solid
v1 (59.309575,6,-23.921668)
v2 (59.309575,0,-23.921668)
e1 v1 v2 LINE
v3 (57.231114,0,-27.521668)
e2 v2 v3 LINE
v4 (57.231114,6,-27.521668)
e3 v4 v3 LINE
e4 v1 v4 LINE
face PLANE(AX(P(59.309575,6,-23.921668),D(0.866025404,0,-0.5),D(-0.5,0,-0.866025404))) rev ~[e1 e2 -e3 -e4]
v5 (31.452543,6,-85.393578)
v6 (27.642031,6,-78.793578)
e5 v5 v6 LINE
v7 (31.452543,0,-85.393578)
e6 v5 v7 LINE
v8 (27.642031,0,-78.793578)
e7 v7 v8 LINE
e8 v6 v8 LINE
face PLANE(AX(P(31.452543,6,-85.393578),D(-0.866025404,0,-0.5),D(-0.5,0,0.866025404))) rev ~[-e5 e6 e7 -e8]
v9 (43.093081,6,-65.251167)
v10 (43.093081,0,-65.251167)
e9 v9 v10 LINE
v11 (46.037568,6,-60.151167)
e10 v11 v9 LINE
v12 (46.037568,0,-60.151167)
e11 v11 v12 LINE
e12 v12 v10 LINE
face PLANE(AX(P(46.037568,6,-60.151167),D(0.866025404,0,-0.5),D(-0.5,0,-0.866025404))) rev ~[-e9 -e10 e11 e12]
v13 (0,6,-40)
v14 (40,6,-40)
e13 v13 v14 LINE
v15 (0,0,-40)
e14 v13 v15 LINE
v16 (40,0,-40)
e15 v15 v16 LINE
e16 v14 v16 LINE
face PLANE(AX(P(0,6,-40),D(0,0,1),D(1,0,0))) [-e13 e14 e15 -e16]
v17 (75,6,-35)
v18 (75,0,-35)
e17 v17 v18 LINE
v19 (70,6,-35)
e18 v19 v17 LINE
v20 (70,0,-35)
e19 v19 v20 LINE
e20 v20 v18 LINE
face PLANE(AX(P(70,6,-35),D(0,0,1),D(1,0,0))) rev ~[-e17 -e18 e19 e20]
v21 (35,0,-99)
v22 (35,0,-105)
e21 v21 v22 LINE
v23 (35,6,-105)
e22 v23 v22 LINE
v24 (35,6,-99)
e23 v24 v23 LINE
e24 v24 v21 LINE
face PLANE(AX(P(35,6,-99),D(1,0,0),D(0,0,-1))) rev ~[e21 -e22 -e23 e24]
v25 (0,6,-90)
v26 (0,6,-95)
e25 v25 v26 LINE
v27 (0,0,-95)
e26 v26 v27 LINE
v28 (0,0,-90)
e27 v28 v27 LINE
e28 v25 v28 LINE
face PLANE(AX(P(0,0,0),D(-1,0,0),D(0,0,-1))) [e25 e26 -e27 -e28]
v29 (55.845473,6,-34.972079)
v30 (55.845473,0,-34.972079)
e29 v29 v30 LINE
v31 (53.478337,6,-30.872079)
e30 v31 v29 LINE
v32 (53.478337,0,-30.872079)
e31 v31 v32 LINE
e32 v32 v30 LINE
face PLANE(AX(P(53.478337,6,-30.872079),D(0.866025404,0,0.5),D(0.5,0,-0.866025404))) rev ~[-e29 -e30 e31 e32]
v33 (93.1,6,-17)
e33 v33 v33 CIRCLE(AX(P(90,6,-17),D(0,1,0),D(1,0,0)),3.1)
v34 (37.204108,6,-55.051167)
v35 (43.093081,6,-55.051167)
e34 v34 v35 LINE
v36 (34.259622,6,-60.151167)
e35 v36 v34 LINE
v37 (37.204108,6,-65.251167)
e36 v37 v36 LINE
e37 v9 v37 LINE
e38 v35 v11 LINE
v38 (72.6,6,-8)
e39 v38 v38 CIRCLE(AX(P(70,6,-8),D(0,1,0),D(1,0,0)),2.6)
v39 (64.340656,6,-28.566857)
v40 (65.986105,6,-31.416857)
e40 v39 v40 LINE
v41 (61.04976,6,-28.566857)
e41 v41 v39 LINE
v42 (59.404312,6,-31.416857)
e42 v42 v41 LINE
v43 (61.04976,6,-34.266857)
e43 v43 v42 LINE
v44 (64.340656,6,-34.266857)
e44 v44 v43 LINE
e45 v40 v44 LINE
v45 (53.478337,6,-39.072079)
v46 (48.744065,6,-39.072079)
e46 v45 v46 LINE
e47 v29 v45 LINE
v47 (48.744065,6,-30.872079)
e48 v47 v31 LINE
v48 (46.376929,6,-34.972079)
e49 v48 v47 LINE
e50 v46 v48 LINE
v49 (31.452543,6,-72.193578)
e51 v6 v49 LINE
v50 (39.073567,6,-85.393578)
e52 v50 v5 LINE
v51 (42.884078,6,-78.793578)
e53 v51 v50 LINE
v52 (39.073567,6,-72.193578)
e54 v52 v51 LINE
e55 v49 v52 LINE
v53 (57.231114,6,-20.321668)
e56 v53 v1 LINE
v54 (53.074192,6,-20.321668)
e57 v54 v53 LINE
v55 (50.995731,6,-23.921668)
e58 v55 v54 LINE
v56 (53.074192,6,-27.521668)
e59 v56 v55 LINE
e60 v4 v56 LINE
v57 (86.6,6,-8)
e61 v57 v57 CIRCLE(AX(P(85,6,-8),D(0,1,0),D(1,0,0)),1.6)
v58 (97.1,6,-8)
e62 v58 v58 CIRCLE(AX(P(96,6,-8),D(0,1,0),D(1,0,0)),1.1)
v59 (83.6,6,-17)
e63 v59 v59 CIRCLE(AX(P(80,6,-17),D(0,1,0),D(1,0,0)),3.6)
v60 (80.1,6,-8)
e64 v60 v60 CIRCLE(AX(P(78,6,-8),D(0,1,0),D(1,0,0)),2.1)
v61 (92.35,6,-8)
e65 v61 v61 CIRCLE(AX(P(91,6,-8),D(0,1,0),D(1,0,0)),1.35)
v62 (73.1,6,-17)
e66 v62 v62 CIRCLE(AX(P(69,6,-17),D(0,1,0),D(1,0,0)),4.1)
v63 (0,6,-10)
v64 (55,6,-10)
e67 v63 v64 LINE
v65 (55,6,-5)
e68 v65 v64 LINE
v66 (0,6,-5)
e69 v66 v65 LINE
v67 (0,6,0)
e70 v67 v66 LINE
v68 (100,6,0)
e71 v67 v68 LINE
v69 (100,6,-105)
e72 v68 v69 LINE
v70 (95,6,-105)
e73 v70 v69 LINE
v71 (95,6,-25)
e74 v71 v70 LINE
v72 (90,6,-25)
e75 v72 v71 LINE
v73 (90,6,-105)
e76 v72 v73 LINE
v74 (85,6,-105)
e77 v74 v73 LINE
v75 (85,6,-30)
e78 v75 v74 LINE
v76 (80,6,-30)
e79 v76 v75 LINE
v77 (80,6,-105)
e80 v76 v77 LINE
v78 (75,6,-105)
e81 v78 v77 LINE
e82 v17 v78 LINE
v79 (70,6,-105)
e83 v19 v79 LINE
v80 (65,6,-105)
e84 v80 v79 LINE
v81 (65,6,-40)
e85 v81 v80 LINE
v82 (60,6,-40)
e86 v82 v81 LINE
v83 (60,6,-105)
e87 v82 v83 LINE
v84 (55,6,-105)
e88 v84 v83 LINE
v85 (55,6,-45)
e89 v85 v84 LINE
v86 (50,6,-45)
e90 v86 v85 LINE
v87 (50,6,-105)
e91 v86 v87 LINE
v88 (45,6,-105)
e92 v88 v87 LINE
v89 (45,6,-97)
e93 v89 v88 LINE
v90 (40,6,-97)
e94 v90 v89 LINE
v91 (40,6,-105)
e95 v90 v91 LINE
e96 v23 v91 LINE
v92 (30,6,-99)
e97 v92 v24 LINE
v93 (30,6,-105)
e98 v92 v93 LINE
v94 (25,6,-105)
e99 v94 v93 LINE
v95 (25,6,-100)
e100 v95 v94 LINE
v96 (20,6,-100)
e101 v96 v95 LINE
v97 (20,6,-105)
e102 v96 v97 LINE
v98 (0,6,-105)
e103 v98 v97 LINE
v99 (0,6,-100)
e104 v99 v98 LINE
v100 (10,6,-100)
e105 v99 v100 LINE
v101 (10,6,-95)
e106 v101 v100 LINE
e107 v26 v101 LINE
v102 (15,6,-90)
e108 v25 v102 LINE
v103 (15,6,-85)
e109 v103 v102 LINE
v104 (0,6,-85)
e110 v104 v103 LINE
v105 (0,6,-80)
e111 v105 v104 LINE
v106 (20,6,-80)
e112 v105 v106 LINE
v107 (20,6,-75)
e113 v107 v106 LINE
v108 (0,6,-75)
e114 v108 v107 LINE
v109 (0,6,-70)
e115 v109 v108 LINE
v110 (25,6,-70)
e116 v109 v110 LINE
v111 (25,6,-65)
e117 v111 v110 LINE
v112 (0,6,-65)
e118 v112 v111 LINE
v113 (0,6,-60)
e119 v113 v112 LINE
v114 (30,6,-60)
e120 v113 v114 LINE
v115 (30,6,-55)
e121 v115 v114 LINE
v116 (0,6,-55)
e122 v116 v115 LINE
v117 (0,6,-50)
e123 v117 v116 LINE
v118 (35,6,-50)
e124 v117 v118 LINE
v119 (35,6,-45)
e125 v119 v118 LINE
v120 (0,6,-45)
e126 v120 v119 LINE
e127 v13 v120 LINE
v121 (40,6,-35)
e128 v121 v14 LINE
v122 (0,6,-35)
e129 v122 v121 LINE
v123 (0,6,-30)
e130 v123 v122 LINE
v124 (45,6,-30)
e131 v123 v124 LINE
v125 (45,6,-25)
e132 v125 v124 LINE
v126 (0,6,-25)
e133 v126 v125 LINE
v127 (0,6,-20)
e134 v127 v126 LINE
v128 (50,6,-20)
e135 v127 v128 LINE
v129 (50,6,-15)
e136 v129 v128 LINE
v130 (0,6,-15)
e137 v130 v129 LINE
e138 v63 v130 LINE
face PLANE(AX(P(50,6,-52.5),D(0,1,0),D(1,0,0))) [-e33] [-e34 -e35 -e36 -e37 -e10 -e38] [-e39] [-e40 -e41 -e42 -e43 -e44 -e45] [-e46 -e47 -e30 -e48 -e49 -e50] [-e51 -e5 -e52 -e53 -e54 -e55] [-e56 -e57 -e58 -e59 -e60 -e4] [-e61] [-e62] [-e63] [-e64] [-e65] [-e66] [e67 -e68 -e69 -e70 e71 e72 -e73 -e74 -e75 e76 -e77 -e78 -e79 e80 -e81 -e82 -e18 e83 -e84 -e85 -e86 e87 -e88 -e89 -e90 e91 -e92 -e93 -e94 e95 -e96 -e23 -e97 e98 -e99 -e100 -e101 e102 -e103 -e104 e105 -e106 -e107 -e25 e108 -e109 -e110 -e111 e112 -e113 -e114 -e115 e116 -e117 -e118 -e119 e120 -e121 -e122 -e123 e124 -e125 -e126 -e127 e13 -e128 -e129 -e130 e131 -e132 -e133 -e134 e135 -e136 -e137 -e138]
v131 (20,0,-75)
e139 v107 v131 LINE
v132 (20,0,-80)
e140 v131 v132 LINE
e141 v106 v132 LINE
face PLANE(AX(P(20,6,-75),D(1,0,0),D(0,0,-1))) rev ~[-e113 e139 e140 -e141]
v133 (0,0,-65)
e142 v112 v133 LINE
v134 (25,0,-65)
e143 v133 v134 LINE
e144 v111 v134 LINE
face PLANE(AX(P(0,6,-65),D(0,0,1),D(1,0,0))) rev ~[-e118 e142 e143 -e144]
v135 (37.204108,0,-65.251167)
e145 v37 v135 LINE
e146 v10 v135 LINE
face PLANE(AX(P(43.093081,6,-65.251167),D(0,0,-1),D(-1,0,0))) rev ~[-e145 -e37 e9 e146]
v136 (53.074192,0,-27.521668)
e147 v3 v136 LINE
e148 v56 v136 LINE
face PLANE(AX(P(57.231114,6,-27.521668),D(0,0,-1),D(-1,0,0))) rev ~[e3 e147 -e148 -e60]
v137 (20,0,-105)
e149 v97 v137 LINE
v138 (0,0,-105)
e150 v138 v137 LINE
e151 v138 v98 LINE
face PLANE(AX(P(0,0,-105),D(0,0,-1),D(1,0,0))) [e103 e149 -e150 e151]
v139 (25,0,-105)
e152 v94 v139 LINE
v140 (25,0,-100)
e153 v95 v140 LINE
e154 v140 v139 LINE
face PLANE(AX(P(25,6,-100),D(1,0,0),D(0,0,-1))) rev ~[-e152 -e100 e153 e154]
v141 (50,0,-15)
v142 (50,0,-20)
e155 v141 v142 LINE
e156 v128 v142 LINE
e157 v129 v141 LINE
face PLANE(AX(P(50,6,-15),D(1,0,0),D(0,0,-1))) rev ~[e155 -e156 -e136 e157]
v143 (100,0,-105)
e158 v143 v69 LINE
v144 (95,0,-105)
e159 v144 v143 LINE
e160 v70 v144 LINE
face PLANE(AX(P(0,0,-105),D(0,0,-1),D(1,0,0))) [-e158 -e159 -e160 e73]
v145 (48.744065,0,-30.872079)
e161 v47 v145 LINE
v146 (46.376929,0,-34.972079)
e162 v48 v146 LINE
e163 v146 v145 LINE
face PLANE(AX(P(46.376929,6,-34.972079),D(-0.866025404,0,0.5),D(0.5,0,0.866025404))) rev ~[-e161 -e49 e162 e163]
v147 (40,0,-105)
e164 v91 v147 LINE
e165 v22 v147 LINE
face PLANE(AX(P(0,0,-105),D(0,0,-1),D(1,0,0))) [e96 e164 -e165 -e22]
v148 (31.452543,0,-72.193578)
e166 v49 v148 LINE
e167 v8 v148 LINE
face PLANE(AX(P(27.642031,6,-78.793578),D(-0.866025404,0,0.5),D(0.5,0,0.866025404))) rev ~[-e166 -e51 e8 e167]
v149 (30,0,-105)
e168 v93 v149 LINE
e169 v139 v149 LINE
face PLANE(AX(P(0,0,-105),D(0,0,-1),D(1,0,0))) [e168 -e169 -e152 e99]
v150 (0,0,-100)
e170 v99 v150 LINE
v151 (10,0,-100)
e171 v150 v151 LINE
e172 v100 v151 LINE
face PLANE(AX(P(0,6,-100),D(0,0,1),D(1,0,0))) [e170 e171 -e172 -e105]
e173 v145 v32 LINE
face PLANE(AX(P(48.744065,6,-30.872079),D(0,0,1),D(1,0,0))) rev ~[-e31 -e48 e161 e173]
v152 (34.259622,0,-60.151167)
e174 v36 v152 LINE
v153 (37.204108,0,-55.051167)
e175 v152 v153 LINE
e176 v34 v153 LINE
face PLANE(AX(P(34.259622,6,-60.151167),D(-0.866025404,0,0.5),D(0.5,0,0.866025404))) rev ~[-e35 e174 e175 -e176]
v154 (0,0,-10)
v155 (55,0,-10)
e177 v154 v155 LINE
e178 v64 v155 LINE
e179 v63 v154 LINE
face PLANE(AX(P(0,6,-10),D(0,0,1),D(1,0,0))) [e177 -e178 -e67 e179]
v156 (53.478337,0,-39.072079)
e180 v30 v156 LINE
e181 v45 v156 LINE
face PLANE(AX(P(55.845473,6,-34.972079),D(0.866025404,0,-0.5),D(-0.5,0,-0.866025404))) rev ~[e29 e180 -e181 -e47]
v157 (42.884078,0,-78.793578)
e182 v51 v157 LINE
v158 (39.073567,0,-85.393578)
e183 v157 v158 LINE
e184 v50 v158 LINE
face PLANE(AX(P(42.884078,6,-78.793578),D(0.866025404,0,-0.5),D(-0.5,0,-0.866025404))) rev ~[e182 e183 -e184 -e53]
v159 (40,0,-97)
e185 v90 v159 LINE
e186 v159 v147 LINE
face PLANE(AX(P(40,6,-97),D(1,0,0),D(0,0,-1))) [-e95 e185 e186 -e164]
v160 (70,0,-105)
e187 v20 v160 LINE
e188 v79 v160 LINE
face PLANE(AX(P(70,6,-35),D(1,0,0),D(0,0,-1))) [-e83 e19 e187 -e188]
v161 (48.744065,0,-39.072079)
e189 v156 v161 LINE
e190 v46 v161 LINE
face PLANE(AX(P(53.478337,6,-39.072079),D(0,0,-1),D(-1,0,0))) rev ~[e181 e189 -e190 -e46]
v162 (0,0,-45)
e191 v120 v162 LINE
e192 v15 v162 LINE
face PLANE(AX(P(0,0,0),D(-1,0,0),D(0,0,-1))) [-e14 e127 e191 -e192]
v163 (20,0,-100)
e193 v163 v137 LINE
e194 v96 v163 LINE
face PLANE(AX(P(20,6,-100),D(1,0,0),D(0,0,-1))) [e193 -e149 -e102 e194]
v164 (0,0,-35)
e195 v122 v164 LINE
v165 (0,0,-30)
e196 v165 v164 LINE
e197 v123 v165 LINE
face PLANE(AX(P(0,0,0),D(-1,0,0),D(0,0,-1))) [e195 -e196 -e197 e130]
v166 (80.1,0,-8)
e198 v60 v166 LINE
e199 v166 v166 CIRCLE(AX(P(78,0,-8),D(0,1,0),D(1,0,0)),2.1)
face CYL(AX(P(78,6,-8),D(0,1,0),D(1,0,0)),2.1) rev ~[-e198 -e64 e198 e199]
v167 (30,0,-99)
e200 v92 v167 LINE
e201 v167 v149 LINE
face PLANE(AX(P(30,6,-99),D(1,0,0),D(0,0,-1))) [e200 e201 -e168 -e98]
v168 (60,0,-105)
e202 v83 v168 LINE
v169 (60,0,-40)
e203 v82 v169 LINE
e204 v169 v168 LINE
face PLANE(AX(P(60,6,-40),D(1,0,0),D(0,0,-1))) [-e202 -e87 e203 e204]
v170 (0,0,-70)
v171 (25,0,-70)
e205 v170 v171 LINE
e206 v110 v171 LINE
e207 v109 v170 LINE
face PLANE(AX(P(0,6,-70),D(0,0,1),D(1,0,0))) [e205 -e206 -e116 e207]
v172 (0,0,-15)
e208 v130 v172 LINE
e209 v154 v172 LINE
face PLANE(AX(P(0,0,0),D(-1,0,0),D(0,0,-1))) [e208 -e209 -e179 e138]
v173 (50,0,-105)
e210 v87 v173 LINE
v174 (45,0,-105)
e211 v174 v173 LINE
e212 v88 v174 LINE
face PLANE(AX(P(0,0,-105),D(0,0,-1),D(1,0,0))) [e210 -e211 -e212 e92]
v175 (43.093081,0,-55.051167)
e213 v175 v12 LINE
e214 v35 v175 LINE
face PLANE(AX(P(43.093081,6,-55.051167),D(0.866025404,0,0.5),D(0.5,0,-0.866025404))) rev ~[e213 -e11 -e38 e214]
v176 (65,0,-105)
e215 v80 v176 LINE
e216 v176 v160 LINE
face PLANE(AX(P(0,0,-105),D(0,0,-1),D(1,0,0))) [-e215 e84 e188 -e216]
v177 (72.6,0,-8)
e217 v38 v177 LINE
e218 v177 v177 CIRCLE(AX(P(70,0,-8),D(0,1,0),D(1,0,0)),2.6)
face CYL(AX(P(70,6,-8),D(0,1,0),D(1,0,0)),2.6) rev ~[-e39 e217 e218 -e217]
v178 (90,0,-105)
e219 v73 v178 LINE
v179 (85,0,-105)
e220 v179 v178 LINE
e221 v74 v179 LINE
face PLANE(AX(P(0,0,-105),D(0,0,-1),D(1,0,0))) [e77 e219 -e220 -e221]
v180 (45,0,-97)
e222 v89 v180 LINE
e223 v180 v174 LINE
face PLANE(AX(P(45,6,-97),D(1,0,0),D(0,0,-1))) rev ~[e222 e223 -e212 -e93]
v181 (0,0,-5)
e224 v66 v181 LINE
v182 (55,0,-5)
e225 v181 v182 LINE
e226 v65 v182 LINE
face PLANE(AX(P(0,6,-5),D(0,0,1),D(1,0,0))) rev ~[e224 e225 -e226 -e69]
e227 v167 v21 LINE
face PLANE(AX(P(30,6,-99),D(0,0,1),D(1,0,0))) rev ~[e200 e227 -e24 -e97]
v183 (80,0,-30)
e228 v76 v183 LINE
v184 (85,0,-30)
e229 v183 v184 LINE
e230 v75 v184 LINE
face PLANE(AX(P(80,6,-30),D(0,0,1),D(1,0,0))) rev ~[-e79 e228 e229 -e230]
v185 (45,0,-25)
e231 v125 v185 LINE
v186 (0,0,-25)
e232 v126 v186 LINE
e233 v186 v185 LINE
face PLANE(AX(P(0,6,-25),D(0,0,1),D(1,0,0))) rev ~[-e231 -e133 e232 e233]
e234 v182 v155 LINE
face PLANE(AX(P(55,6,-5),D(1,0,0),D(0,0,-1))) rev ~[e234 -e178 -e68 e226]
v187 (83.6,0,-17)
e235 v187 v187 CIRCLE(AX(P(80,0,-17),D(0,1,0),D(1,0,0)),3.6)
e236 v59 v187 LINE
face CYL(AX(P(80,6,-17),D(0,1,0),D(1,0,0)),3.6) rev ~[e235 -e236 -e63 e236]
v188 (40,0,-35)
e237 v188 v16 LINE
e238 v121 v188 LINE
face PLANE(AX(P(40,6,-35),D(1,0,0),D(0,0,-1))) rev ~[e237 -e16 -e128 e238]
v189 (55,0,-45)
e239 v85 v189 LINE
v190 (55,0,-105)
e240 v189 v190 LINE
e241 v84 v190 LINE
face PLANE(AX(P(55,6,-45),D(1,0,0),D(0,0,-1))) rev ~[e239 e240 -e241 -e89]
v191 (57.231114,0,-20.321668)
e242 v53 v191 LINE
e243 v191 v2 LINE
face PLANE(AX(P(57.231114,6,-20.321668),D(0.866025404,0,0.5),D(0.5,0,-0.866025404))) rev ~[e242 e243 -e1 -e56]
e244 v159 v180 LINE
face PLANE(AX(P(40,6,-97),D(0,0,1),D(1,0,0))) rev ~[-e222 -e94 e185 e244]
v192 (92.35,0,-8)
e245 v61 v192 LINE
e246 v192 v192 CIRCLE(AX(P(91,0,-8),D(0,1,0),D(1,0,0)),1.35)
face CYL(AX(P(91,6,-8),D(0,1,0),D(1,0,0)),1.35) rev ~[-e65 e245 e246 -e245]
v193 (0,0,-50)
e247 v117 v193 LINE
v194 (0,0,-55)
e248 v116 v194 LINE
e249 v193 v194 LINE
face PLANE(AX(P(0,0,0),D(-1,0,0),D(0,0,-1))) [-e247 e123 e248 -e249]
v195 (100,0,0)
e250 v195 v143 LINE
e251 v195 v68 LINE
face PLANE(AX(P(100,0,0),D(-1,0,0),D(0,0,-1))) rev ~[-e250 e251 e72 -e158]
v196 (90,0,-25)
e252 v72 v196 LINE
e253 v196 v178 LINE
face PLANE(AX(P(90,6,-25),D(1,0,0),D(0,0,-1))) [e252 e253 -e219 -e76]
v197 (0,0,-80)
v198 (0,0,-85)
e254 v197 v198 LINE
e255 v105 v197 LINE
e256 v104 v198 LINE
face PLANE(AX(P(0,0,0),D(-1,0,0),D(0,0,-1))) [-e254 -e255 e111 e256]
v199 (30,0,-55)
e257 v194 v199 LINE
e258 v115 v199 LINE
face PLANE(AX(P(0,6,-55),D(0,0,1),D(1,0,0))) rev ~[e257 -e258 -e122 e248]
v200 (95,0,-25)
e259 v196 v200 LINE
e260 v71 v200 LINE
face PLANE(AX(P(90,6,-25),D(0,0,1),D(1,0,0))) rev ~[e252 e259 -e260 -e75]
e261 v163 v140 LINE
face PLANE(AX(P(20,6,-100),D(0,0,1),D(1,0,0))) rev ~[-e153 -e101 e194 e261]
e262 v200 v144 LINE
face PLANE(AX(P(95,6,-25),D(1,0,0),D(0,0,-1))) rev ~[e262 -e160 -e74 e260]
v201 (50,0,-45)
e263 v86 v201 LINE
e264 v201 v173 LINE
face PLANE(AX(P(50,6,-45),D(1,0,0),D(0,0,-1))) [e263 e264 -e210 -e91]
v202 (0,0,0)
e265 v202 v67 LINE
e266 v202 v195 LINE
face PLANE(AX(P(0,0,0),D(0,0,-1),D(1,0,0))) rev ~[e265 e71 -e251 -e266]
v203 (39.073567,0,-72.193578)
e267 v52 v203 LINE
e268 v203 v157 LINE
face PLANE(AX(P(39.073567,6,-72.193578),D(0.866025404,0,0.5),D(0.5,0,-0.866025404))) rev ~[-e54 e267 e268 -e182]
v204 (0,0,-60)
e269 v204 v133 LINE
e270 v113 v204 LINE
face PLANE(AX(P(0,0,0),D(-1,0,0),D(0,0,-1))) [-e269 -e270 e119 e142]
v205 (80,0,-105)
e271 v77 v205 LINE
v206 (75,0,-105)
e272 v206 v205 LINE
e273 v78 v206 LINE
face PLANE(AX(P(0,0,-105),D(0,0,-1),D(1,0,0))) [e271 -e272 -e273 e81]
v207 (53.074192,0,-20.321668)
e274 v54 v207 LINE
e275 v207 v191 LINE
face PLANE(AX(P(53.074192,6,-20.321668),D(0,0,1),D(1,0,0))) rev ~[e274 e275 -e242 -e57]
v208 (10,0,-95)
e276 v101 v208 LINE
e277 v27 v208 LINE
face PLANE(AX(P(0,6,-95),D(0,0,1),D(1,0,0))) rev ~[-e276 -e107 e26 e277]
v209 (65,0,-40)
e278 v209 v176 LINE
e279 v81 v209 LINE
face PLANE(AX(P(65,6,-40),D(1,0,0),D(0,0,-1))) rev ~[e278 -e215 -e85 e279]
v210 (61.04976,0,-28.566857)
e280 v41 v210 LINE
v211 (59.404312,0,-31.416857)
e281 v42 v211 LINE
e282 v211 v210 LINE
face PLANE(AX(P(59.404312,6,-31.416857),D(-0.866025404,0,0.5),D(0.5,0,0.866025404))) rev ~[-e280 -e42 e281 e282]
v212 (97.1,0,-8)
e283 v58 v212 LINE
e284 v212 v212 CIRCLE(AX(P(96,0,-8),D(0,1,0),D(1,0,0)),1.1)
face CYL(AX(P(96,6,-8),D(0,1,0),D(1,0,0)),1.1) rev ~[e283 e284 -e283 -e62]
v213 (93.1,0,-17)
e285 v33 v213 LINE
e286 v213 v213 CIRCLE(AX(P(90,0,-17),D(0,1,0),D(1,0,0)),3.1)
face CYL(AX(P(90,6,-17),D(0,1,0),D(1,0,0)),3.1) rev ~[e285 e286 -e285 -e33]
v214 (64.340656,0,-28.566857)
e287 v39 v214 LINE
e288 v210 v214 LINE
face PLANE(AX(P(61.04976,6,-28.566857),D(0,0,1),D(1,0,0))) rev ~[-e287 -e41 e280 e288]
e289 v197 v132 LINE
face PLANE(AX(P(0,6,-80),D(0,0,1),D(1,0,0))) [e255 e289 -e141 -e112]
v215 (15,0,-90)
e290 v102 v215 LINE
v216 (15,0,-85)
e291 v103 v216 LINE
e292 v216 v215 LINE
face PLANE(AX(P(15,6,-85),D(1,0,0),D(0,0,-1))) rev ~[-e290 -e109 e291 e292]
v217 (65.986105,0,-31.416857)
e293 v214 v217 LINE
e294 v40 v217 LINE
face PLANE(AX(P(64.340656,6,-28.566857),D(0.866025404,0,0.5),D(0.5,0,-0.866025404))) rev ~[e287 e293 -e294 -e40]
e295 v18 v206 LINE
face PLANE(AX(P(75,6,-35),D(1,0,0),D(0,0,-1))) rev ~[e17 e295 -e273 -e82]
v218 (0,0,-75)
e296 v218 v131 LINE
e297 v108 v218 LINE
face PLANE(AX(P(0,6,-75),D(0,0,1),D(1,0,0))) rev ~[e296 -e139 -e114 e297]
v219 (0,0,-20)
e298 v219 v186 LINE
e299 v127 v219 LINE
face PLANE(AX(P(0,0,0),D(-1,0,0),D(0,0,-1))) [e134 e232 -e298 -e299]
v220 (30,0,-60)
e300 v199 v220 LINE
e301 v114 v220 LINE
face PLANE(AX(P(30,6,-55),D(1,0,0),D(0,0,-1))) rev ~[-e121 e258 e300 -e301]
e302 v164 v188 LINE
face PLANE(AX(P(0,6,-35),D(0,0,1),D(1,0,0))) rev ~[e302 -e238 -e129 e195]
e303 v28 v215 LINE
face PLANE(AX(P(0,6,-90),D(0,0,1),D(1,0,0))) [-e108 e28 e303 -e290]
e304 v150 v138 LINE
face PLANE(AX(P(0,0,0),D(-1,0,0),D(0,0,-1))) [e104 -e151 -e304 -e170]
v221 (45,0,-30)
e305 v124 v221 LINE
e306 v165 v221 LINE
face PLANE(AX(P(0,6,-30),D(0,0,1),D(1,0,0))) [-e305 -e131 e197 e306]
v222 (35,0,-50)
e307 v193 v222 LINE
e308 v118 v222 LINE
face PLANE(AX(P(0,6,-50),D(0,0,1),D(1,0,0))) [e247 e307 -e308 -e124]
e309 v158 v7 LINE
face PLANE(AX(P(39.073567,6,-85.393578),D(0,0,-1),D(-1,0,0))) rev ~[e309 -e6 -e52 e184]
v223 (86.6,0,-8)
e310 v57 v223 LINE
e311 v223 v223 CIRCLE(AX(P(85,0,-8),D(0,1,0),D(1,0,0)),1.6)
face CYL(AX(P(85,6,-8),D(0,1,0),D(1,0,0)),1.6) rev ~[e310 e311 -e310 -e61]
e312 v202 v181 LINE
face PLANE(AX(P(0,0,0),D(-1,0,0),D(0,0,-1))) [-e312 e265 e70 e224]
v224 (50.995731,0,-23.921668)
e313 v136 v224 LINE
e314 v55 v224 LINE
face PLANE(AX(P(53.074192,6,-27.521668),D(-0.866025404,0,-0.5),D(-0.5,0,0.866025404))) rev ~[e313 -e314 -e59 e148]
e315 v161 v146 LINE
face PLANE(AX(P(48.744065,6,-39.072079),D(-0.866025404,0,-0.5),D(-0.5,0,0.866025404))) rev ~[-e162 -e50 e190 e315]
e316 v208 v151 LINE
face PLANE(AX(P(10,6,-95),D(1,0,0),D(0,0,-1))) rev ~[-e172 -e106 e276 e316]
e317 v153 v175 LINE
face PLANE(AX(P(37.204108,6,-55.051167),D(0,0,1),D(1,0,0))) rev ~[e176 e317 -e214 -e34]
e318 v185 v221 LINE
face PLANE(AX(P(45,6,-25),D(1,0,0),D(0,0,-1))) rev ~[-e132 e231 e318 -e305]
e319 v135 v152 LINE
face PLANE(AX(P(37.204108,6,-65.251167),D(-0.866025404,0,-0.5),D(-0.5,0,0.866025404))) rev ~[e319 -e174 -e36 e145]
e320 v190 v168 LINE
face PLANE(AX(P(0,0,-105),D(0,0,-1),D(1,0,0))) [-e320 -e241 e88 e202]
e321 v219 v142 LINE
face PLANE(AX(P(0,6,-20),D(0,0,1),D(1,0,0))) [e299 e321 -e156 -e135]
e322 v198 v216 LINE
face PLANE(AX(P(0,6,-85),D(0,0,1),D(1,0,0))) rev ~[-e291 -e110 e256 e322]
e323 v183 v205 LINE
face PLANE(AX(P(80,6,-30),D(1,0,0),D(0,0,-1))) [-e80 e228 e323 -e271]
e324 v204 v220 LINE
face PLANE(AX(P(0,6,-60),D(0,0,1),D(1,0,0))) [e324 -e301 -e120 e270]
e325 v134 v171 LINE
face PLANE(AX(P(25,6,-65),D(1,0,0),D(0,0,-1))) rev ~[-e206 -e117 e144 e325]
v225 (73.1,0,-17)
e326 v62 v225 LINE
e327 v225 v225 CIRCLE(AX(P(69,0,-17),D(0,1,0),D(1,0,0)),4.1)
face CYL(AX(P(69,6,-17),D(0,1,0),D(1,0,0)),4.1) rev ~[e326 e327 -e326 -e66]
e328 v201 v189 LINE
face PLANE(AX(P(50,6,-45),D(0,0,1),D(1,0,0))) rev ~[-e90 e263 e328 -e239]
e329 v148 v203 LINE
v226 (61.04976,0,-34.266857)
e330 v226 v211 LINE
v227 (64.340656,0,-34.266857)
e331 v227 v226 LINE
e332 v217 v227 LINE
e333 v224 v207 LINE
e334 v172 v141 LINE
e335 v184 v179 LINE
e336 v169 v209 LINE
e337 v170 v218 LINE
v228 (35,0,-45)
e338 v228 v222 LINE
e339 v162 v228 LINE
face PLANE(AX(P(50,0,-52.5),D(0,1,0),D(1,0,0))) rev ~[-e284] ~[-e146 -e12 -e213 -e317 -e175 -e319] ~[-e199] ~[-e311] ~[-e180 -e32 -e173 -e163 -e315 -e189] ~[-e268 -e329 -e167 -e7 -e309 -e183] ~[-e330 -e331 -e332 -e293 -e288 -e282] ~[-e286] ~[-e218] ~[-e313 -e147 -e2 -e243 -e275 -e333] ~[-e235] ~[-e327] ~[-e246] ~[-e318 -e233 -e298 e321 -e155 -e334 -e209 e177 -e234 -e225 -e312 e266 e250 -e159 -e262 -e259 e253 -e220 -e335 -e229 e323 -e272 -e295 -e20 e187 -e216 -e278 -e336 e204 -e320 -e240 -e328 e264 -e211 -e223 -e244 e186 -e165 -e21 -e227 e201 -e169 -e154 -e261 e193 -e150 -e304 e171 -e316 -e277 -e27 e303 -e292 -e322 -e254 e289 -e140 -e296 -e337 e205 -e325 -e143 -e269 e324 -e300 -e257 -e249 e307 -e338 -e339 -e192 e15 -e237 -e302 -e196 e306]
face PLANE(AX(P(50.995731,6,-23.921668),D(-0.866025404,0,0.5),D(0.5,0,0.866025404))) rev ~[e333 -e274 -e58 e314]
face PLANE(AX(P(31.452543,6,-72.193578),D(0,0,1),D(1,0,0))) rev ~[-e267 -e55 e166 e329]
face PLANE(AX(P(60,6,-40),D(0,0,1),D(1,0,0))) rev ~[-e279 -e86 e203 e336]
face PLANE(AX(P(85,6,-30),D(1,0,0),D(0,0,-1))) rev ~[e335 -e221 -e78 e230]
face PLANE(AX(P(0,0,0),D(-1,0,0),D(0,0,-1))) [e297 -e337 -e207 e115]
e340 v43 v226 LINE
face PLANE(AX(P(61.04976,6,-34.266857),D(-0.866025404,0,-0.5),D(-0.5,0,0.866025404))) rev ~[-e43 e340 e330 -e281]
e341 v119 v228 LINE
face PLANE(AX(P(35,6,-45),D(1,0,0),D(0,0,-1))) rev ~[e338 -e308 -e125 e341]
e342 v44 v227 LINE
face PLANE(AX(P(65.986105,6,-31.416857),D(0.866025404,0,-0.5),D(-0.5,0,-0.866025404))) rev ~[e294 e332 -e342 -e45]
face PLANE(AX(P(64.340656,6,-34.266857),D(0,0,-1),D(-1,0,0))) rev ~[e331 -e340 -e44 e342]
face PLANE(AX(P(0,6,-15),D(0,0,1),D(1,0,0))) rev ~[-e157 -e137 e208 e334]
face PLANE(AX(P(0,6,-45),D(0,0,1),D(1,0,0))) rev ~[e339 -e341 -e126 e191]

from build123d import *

# Parameters (mm, degrees)
SKETCH1_W           = 100
SKETCH1_H           = 105
BOSS_EXTRUDE1_DEPTH = 6
SKETCH3_W           = 10
SKETCH3_H           = 5
SKETCH3_W_2         = 15
SKETCH3_W_3         = 20
SKETCH3_W_4         = 25
SKETCH3_W_5         = 30
SKETCH3_W_6         = 35
SKETCH3_W_7         = 40
SKETCH3_W_8         = 45
SKETCH3_W_9         = 50
SKETCH3_W_10        = 55
CUT_EXTRUDE1_DEPTH  = 6
SKETCH4_W           = 5
SKETCH4_H           = 80
SKETCH4_H_2         = 75
SKETCH4_H_3         = 70
SKETCH4_H_4         = 65
SKETCH4_H_5         = 60
CUT_EXTRUDE2_DEPTH  = 6
SKETCH5_R           = 1.35
SKETCH5_R_2         = 1.6
SKETCH5_R_3         = 2.1
SKETCH5_R_4         = 2.6
SKETCH5_R_5         = 1.1
SKETCH5_R_6         = 3.1
SKETCH5_R_7         = 3.6
SKETCH5_R_8         = 4.1
CUT_EXTRUDE3_DEPTH  = 7
SKETCH7_W           = 5
SKETCH7_H           = 5
SKETCH7_H_2         = 6
SKETCH7_H_3         = 8
CUT_EXTRUDE4_DEPTH  = 7
CUT_EXTRUDE5_DEPTH  = 7


with BuildPart() as part:
    # Sketch1 → Boss-Extrude1 (new body)
    with BuildSketch(Plane(origin=(0, 0, 0), x_dir=(1, 0, 0), z_dir=(0, 1, 0))):
        with Locations((50, 52.5)):
            Rectangle(SKETCH1_W, SKETCH1_H)
    extrude(amount=BOSS_EXTRUDE1_DEPTH)

    # Sketch3 → Cut-Extrude1 (cut)
    with BuildSketch(Plane(origin=(0, 6, 0), x_dir=(1, 0, 0), z_dir=(0, 1, 0))):
        with Locations((5, 97.5)):
            Rectangle(SKETCH3_W, SKETCH3_H)
        with Locations((7.5, 87.5)):
            Rectangle(SKETCH3_W_2, SKETCH3_H)
        with Locations((10, 77.5)):
            Rectangle(SKETCH3_W_3, SKETCH3_H)
        with Locations((12.5, 67.5)):
            Rectangle(SKETCH3_W_4, SKETCH3_H)
        with Locations((15, 57.5)):
            Rectangle(SKETCH3_W_5, SKETCH3_H)
        with Locations((17.5, 47.5)):
            Rectangle(SKETCH3_W_6, SKETCH3_H)
        with Locations((20, 37.5)):
            Rectangle(SKETCH3_W_7, SKETCH3_H)
        with Locations((22.5, 27.5)):
            Rectangle(SKETCH3_W_8, SKETCH3_H)
        with Locations((25, 17.5)):
            Rectangle(SKETCH3_W_9, SKETCH3_H)
        with Locations((27.5, 7.5)):
            Rectangle(SKETCH3_W_10, SKETCH3_H)
    extrude(amount=-CUT_EXTRUDE1_DEPTH, mode=Mode.SUBTRACT)

    # Sketch4 → Cut-Extrude2 (cut)
    with BuildSketch(Plane(origin=(0, 6, 0), x_dir=(1, 0, 0), z_dir=(0, 1, 0))):
        with Locations((92.5, 65)):
            Rectangle(SKETCH4_W, SKETCH4_H)
        with Locations((82.5, 67.5)):
            Rectangle(SKETCH4_W, SKETCH4_H_2)
        with Locations((72.5, 70)):
            Rectangle(SKETCH4_W, SKETCH4_H_3)
        with Locations((62.5, 72.5)):
            Rectangle(SKETCH4_W, SKETCH4_H_4)
        with Locations((52.5, 75)):
            Rectangle(SKETCH4_W, SKETCH4_H_5)
    extrude(amount=-CUT_EXTRUDE2_DEPTH, mode=Mode.SUBTRACT)

    # Sketch5 → Cut-Extrude3 (cut, through all)
    with BuildSketch(Plane(origin=(0, 6, 0), x_dir=(1, 0, 0), z_dir=(0, 1, 0))):
        with Locations((91, 8)):
            Circle(SKETCH5_R)
        with Locations((85, 8)):
            Circle(SKETCH5_R_2)
        with Locations((78, 8)):
            Circle(SKETCH5_R_3)
        with Locations((70, 8)):
            Circle(SKETCH5_R_4)
        with Locations((96, 8)):
            Circle(SKETCH5_R_5)
        with Locations((90, 17)):
            Circle(SKETCH5_R_6)
        with Locations((80, 17)):
            Circle(SKETCH5_R_7)
        with Locations((69, 17)):
            Circle(SKETCH5_R_8)
    extrude(amount=-CUT_EXTRUDE3_DEPTH, mode=Mode.SUBTRACT)

    # Sketch7 → Cut-Extrude4 (cut, through all)
    with BuildSketch(Plane(origin=(0, 6, 0), x_dir=(1, 0, 0), z_dir=(0, 1, 0))):
        with Locations((22.5, 102.5)):
            Rectangle(SKETCH7_W, SKETCH7_H)
        with Locations((32.5, 102)):
            Rectangle(SKETCH7_W, SKETCH7_H_2)
        with Locations((42.5, 101)):
            Rectangle(SKETCH7_W, SKETCH7_H_3)
    extrude(amount=-CUT_EXTRUDE4_DEPTH, mode=Mode.SUBTRACT)

    # Sketch8 → Cut-Extrude5 (cut, through all)
    with BuildSketch(Plane(origin=(0, 6, 0), x_dir=(1, 0, 0), z_dir=(0, 1, 0))):
        Polygon((65.986104675, 31.416856683), (64.340656408, 34.266856683), (61.049759874, 34.266856683), (59.404311607, 31.416856683), (61.049759874, 28.566856683), (64.340656408, 28.566856683), align=None)
        Polygon((59.309574734, 23.921668245), (57.231113764, 27.521668245), (53.074191826, 27.521668245), (50.995730857, 23.921668245), (53.074191826, 20.321668245), (57.231113764, 20.321668245), align=None)
        Polygon((55.845473118, 34.972078883), (53.478337015, 39.072078883), (48.744064807, 39.072078883), (46.376928704, 34.972078883), (48.744064807, 30.872078883), (53.478337015, 30.872078883), align=None)
        Polygon((46.037567534, 60.151166507), (43.093081161, 65.251166507), (37.204108416, 65.251166507), (34.259622043, 60.151166507), (37.204108416, 55.051166507), (43.093081161, 55.051166507), align=None)
        Polygon((42.884078391, 78.793578101), (39.073566615, 85.393578101), (31.452543062, 85.393578101), (27.642031285, 78.793578101), (31.452543062, 72.193578101), (39.073566615, 72.193578101), align=None)
    extrude(amount=-CUT_EXTRUDE5_DEPTH, mode=Mode.SUBTRACT)


solid = part.part
